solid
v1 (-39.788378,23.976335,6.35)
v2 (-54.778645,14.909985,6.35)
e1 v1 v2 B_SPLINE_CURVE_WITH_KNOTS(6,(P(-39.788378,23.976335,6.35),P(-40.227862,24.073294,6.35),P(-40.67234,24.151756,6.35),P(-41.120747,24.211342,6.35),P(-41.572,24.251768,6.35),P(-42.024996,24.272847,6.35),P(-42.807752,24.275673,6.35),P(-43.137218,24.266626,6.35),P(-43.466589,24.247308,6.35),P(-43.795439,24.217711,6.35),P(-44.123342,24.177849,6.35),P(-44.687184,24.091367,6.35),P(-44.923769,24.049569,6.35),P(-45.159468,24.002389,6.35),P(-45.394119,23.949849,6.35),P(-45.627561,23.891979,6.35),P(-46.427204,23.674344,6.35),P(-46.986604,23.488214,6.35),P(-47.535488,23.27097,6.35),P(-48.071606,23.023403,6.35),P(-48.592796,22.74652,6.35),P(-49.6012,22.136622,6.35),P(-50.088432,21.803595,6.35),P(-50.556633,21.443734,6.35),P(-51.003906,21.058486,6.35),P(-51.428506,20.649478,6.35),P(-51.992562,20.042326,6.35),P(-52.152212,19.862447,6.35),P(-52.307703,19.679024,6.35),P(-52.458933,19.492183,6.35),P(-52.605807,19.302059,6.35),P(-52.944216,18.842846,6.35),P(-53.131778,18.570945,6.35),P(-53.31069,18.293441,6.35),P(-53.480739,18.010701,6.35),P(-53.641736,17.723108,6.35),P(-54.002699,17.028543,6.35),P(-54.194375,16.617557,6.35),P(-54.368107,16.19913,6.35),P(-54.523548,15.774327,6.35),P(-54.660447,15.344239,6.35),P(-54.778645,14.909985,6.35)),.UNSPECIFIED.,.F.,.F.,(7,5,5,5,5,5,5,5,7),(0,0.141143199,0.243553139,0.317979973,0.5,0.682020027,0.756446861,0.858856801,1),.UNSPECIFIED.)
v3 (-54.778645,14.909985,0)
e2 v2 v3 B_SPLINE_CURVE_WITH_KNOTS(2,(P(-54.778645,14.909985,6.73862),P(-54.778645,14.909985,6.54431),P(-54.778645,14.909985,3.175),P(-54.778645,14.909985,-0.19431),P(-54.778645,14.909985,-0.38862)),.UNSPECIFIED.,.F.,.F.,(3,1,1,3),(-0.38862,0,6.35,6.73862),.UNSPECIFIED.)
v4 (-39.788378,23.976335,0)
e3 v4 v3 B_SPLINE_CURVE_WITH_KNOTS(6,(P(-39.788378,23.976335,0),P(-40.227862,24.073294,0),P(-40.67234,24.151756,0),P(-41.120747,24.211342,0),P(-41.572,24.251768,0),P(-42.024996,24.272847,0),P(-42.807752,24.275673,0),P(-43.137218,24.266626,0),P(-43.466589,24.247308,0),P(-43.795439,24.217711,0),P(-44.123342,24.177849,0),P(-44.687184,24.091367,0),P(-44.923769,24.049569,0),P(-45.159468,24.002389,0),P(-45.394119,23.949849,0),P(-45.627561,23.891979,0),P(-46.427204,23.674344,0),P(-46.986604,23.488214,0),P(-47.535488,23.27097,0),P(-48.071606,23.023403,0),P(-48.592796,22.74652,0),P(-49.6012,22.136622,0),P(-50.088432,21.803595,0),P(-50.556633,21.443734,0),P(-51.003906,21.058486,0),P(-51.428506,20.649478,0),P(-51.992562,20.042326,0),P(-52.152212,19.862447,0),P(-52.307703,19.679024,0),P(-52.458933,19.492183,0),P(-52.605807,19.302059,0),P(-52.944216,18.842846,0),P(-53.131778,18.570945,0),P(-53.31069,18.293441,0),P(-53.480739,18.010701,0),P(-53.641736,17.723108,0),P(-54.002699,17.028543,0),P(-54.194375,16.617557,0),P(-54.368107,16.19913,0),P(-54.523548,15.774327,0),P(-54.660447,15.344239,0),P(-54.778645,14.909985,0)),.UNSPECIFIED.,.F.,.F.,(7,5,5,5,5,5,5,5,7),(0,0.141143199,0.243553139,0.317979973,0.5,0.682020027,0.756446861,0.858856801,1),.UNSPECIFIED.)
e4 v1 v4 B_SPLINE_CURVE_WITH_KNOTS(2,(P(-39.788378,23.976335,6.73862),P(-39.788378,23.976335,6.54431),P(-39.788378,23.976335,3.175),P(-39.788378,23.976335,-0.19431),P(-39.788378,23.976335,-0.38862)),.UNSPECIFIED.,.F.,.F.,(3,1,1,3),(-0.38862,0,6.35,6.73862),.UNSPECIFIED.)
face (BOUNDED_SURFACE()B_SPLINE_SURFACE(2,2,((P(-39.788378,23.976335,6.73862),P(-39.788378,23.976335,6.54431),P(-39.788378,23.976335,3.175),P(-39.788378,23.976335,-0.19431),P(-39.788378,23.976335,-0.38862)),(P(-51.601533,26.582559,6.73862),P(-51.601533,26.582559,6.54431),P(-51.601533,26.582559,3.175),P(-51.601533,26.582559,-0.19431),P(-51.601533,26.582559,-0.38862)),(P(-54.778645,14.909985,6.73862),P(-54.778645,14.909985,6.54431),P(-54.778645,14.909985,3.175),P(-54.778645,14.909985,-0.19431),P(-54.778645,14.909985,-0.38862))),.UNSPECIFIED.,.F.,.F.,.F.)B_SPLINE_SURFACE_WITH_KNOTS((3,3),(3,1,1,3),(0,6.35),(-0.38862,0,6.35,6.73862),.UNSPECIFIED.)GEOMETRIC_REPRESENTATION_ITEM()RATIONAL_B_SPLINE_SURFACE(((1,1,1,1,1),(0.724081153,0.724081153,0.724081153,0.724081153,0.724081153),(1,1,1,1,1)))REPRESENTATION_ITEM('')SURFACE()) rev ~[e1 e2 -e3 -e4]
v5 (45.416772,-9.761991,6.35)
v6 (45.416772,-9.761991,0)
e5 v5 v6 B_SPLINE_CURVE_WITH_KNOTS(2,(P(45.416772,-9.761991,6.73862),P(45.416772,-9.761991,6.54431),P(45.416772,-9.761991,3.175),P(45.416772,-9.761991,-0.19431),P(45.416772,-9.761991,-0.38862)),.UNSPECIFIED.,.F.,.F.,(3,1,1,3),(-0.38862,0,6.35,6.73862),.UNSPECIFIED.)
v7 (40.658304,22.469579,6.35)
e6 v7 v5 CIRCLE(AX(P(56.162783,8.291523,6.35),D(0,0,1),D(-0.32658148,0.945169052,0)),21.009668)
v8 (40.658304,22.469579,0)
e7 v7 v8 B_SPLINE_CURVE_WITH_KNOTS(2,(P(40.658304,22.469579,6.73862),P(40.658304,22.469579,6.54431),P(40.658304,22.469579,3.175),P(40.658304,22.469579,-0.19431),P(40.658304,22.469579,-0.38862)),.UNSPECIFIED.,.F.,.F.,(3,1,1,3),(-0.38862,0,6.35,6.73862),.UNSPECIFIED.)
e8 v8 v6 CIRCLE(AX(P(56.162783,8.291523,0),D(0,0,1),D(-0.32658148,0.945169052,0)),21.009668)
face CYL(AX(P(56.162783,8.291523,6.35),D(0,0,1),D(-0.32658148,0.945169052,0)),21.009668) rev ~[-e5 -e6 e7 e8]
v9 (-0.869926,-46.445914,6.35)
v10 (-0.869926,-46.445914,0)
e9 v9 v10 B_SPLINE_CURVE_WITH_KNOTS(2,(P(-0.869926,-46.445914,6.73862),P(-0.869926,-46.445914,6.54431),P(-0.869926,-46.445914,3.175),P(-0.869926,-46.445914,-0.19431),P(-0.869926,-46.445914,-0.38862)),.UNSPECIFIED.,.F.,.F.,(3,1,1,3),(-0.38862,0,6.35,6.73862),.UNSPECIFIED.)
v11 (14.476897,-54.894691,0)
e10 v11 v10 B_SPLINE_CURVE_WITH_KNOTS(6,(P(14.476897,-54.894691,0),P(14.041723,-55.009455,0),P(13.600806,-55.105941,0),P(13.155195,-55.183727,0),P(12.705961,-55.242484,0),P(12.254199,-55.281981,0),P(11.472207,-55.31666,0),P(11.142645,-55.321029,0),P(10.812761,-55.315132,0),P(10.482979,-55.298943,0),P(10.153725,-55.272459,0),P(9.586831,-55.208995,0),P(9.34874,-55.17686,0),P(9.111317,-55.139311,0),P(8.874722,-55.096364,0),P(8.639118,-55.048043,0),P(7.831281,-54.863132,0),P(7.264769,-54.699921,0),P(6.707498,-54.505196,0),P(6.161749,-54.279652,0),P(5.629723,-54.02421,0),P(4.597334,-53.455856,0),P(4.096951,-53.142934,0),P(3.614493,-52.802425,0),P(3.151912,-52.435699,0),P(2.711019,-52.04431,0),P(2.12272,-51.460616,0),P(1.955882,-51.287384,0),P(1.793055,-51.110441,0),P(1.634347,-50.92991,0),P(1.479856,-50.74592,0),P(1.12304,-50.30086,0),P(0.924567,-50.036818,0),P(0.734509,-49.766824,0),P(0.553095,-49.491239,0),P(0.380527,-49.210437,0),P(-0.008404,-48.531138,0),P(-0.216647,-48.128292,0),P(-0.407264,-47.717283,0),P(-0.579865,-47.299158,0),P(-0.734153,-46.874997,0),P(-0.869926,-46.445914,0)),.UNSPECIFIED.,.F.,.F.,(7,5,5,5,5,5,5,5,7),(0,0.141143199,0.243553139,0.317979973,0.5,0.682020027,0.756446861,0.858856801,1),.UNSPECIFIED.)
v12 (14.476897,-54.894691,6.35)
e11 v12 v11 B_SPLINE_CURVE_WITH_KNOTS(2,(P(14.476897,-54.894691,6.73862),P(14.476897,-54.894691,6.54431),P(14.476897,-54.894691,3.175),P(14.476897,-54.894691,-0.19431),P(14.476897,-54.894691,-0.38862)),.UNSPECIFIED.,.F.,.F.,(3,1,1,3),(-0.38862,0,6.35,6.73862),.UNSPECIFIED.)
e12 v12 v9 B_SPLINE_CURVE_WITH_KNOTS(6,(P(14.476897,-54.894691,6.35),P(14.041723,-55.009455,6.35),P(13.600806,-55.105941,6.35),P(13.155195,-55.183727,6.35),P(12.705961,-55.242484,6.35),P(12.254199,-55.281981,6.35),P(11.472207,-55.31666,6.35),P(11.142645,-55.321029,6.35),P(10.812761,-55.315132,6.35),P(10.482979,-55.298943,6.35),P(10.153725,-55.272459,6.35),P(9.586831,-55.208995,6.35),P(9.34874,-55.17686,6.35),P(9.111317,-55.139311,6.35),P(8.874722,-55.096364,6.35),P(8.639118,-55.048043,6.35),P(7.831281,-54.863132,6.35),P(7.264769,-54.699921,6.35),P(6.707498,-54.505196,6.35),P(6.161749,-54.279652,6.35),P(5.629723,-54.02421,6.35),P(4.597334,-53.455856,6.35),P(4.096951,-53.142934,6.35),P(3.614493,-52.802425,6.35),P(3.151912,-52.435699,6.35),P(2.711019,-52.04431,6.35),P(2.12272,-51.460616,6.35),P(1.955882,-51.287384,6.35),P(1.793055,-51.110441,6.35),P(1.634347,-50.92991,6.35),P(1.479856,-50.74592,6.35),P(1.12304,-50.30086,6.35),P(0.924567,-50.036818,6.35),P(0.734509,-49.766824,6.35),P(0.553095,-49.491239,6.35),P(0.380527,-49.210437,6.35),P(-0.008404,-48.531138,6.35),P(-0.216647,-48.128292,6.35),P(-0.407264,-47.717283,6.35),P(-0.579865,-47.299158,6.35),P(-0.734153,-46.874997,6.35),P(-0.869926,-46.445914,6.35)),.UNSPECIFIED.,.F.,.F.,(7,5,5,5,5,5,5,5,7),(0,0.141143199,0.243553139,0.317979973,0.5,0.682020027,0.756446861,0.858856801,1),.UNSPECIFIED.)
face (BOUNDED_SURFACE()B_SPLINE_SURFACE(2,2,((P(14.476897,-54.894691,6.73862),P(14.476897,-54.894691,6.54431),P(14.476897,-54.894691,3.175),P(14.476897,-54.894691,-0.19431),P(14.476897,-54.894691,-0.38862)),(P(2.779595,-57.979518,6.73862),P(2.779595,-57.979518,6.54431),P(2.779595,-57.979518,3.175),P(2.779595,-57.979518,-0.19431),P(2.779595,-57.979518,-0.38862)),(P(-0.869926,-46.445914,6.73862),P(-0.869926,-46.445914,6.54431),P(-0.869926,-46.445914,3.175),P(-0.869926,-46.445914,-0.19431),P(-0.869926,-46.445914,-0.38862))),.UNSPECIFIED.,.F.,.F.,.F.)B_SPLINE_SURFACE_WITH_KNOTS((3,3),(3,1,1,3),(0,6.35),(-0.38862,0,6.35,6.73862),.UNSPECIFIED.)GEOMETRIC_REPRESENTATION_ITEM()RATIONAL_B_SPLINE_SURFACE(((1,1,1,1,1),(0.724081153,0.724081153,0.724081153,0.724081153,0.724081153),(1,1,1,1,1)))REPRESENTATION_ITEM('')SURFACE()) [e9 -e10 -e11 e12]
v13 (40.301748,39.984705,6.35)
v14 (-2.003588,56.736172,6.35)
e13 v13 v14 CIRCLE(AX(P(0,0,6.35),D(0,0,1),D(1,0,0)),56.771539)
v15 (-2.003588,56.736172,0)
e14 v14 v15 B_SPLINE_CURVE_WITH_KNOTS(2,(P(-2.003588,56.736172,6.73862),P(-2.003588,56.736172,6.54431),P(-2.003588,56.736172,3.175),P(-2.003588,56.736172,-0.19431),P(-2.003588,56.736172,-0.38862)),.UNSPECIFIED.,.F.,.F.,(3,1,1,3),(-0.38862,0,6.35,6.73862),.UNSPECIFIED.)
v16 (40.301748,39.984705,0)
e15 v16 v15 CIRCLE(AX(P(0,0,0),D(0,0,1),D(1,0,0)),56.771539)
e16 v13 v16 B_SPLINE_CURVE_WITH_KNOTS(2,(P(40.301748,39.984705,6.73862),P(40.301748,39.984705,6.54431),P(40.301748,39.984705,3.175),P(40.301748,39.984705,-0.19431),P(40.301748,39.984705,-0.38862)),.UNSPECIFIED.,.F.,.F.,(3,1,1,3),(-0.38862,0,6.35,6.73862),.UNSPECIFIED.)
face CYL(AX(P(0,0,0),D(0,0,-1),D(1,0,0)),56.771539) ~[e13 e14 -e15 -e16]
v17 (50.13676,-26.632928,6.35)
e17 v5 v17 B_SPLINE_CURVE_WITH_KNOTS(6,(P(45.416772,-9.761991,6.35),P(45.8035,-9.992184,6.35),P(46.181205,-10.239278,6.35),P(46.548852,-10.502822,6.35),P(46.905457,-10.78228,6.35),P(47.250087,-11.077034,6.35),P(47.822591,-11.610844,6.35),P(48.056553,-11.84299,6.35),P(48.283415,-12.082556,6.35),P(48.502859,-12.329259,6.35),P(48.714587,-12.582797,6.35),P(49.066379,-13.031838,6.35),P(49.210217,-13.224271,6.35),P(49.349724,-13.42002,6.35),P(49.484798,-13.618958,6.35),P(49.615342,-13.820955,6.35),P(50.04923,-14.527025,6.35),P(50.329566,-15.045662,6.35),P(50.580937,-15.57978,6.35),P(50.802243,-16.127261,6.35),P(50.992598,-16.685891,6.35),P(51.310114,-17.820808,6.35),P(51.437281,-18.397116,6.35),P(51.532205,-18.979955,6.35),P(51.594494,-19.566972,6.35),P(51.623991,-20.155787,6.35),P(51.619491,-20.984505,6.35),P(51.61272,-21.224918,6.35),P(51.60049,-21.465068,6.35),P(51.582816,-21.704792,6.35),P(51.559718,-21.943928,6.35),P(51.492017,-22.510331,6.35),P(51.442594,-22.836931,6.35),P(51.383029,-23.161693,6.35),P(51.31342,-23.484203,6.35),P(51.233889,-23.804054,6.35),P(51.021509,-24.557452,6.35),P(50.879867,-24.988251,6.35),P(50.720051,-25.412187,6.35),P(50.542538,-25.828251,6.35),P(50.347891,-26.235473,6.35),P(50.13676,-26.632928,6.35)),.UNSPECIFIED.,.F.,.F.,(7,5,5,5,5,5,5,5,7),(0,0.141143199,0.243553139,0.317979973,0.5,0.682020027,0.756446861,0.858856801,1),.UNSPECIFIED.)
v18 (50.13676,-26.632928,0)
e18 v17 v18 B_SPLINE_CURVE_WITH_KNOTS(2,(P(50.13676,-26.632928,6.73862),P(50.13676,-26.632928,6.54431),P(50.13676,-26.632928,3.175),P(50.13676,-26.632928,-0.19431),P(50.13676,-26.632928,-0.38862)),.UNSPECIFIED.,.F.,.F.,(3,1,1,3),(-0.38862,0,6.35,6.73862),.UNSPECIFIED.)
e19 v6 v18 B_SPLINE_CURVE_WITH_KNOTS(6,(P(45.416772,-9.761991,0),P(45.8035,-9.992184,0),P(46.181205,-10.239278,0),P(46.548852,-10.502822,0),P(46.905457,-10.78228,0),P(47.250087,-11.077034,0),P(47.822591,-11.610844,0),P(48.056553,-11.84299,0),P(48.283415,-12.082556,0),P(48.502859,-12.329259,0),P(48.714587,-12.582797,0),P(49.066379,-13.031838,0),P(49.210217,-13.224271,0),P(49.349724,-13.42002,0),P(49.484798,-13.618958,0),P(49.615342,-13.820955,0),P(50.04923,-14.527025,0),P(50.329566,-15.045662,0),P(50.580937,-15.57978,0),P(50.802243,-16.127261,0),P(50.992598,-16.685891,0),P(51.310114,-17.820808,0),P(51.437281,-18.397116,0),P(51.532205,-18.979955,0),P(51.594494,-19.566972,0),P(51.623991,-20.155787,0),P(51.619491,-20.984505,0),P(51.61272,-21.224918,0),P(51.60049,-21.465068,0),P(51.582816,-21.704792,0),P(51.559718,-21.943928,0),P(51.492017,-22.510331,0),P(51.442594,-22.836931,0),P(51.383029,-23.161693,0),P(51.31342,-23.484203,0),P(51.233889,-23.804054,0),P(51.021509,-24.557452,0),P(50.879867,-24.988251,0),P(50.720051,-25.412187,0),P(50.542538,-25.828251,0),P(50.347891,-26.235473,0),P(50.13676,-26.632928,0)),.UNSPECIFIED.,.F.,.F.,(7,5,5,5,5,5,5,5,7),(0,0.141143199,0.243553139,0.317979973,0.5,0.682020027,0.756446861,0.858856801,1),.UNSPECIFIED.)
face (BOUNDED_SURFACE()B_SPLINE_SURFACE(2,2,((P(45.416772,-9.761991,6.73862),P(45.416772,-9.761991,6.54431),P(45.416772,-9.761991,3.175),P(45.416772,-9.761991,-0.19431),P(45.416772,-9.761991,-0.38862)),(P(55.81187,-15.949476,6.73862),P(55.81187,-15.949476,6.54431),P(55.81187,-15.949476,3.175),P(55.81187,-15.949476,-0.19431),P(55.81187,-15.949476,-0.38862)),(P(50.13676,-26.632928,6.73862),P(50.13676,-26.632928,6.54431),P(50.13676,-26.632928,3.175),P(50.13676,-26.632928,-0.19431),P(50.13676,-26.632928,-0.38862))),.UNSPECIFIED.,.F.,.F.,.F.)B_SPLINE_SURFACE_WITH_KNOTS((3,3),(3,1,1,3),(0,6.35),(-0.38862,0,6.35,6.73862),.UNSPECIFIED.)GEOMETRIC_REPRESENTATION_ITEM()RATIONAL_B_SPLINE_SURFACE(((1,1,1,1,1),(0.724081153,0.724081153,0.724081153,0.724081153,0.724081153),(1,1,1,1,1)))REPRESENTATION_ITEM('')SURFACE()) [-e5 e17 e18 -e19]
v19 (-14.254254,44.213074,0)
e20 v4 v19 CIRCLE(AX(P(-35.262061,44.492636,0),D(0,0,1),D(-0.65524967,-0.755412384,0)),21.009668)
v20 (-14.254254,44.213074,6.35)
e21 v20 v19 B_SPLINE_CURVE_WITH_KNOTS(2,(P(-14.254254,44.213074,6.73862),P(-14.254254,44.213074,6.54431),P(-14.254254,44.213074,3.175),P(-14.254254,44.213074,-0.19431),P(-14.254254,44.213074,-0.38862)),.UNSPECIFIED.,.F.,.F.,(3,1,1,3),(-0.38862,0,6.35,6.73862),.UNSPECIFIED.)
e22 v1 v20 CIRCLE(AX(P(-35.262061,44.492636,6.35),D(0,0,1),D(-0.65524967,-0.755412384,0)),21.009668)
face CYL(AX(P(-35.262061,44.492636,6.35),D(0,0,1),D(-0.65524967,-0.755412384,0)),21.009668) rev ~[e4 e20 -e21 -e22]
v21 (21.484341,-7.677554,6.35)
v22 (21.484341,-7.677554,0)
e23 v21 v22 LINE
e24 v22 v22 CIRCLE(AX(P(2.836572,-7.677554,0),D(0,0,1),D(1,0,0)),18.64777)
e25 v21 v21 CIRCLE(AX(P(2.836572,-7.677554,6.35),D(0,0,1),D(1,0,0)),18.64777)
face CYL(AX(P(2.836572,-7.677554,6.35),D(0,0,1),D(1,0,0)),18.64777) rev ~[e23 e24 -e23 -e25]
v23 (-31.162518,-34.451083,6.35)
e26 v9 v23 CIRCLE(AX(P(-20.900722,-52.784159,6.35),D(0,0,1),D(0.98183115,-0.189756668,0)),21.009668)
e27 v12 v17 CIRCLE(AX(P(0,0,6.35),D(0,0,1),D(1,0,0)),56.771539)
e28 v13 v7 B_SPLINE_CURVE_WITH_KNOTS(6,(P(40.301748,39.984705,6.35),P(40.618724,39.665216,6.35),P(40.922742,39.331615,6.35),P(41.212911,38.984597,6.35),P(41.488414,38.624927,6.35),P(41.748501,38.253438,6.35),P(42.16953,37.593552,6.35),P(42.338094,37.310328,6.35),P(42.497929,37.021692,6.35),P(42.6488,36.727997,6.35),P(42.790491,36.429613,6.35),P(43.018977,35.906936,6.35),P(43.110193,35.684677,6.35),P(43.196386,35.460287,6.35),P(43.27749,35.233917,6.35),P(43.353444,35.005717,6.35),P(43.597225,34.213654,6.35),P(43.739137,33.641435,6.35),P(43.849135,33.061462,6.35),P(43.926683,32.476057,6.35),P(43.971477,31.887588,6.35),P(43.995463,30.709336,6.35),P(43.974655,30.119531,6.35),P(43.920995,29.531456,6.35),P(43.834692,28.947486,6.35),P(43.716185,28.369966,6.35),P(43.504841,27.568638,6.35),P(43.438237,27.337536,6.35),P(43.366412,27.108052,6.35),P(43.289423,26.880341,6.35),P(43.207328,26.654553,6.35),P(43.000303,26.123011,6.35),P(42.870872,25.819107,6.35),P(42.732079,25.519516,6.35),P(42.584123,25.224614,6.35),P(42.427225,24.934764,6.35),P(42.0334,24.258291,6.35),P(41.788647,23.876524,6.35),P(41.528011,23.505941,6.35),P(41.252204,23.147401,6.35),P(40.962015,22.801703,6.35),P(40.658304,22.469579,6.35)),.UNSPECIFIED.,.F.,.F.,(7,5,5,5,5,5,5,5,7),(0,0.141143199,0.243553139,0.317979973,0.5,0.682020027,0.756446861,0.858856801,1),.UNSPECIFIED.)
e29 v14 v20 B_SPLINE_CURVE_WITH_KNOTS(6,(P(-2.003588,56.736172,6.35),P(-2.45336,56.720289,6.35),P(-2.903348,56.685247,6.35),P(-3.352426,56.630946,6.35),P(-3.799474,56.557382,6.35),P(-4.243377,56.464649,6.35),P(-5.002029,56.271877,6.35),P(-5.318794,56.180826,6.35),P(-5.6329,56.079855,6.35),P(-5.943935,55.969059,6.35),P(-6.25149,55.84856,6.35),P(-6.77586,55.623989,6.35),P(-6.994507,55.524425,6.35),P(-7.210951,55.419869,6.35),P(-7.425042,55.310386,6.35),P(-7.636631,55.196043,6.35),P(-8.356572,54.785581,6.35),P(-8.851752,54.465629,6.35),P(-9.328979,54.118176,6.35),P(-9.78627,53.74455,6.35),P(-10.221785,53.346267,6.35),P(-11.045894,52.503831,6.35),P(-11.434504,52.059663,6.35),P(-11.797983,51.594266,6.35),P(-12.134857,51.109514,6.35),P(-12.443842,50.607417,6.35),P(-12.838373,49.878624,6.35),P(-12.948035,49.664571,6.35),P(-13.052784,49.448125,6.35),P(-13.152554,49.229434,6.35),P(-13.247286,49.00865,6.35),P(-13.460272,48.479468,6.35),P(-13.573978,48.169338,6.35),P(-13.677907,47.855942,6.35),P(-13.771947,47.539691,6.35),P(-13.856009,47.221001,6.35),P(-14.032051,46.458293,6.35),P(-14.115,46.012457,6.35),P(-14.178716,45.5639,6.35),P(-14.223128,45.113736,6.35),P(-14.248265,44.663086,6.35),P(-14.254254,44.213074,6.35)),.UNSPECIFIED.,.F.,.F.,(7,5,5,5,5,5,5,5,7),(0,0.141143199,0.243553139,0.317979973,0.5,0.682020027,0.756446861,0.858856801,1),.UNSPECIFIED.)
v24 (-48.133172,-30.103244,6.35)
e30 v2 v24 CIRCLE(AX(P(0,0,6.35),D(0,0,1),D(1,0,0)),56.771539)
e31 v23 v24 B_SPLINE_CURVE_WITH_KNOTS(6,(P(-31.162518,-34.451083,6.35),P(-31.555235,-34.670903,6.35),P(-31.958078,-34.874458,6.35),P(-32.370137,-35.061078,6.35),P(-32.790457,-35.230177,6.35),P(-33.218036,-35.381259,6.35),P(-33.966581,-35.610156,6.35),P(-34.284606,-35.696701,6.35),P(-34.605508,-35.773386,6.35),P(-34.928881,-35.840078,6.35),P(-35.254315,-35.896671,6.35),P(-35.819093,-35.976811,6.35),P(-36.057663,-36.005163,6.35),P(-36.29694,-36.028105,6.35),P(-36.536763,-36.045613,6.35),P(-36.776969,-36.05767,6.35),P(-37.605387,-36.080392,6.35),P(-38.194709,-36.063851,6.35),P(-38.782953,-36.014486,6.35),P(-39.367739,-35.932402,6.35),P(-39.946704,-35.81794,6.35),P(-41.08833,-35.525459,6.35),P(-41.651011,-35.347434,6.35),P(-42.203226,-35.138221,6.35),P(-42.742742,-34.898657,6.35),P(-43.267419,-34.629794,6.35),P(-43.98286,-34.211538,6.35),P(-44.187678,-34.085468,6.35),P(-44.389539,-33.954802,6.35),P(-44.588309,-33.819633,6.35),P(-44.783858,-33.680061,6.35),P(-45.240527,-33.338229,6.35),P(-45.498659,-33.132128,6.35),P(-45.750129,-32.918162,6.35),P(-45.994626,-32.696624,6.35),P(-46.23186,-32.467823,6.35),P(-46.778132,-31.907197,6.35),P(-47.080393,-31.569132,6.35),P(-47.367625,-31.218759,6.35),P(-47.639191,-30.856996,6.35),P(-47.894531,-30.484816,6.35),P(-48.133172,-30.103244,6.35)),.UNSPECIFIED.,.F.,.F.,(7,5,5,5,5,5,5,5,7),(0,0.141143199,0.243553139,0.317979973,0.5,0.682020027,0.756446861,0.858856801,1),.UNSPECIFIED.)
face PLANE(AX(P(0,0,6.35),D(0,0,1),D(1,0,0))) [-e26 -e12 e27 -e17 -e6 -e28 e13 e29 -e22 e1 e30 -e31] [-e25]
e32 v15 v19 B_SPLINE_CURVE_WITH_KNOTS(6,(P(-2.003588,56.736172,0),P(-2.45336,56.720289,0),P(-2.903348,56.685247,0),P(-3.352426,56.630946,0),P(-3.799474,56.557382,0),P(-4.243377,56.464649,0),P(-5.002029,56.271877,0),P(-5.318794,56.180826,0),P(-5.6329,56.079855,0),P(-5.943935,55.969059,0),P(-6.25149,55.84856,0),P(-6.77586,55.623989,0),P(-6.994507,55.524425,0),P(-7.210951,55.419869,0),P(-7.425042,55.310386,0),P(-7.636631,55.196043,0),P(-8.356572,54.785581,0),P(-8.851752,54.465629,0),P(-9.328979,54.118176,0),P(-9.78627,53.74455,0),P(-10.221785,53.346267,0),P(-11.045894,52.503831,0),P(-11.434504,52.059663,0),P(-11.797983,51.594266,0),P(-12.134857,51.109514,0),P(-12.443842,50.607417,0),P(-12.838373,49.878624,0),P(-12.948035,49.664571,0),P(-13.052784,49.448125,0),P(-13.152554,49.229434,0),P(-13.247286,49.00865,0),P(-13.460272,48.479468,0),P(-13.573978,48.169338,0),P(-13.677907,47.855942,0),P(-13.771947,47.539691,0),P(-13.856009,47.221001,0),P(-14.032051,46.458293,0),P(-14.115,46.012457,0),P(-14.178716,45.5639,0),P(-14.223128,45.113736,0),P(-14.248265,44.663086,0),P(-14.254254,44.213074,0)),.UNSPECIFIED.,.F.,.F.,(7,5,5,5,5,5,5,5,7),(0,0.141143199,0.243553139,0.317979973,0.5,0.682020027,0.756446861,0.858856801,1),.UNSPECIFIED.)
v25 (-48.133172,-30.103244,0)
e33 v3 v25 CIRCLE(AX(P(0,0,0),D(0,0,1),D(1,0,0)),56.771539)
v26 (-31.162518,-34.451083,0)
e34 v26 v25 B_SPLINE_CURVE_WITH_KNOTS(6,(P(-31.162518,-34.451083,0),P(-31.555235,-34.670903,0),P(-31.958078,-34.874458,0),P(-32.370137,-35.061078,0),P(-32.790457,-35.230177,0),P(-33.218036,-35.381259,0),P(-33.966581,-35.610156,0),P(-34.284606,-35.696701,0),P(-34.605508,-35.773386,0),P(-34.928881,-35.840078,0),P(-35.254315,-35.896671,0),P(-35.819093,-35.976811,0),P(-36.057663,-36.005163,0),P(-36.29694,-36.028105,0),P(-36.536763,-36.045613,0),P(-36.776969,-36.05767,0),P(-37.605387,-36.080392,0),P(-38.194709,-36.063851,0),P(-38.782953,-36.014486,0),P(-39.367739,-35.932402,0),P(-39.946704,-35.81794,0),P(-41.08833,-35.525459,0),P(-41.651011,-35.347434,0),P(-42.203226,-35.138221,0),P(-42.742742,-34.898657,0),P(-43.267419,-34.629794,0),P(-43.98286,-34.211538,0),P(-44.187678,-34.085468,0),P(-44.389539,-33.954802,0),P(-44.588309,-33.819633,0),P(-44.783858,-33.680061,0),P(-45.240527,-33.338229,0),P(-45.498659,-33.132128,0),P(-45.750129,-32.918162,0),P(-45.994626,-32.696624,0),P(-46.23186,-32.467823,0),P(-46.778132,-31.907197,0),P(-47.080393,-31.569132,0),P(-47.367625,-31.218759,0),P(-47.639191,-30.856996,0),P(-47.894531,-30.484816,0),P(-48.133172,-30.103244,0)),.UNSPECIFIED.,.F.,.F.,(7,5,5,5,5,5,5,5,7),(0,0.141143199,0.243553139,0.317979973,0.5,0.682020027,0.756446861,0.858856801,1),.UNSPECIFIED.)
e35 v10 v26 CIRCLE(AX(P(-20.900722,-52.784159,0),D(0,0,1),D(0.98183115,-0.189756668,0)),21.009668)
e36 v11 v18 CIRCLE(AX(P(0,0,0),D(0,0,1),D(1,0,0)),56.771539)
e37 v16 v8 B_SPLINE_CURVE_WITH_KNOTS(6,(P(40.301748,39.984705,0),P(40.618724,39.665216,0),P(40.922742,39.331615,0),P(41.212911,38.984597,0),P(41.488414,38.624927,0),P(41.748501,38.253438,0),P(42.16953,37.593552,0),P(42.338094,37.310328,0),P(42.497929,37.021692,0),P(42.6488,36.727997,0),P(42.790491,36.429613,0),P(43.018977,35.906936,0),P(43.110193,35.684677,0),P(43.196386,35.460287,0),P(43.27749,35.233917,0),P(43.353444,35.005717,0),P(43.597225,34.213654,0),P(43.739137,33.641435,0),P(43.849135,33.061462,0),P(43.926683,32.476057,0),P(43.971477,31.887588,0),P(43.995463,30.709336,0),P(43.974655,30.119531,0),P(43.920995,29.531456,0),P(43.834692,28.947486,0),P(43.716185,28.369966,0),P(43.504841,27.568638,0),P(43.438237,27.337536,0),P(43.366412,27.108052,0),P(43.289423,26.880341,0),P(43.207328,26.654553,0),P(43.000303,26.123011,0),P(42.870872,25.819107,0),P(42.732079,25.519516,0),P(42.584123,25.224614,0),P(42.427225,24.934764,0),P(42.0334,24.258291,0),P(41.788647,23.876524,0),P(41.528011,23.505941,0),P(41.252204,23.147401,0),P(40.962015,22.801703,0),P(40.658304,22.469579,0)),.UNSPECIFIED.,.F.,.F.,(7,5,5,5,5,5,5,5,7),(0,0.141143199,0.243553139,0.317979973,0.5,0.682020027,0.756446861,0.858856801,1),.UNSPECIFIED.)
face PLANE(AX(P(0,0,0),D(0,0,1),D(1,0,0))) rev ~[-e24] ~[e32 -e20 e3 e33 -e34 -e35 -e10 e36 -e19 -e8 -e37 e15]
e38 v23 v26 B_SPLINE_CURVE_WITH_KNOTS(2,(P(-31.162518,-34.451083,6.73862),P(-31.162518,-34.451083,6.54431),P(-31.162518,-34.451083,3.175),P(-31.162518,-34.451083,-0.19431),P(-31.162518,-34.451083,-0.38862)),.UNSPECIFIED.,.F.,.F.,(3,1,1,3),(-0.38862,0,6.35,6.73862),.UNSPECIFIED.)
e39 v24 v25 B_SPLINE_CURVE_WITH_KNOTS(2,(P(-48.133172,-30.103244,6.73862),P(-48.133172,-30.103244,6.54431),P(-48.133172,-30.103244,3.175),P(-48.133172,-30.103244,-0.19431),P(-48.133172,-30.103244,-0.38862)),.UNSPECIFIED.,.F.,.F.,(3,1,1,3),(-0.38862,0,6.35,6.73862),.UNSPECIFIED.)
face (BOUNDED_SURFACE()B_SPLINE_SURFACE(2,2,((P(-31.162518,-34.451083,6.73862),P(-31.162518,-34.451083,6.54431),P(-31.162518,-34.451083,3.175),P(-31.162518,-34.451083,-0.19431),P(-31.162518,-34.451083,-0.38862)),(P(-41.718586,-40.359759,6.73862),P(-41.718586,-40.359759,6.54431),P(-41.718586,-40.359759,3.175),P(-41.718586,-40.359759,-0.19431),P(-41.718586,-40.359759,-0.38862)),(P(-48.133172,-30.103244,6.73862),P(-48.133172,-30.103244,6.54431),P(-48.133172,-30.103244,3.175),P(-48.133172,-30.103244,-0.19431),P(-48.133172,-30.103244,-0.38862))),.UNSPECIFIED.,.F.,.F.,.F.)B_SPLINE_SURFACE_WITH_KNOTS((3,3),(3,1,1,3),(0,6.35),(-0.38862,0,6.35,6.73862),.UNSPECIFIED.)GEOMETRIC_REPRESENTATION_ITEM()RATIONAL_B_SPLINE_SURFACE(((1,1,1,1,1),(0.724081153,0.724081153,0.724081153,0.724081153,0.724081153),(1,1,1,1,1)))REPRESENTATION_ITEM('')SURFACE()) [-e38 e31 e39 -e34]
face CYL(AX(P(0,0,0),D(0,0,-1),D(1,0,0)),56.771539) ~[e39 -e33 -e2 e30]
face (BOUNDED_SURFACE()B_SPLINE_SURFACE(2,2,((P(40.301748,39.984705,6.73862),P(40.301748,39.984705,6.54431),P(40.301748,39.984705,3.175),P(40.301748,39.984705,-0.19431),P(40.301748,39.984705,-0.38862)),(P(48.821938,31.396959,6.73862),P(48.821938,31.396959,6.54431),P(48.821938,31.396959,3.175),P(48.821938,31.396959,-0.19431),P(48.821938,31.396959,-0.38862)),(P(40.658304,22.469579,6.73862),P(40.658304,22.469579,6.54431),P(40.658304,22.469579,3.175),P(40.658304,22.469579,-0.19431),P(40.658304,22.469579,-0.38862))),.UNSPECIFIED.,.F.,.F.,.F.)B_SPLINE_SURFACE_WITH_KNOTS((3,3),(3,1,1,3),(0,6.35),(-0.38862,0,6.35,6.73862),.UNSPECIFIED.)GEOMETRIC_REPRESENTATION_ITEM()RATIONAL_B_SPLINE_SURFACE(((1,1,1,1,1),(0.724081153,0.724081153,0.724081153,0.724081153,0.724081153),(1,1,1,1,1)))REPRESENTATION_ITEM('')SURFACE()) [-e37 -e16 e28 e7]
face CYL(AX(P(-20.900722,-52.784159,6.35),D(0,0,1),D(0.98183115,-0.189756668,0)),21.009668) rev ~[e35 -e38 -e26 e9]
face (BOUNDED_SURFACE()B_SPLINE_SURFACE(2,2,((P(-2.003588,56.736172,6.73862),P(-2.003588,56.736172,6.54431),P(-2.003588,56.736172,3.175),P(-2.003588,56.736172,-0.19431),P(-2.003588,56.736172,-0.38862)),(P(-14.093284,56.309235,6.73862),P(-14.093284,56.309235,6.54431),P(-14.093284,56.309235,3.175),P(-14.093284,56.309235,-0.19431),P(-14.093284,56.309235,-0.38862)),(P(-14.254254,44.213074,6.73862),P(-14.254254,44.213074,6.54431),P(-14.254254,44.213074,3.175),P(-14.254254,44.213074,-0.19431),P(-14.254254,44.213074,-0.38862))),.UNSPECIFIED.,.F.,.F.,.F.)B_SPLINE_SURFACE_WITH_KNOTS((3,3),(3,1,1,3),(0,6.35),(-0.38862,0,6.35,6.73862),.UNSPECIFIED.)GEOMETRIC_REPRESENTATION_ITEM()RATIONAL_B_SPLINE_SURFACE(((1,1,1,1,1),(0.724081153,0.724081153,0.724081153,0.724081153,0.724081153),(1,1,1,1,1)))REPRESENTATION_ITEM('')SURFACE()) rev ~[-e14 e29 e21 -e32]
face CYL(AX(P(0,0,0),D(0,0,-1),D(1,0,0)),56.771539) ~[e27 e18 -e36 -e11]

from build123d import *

# Parameters (mm, degrees)
F0_R     = 56.7715385185
F1_DEPTH = 6.35
F2_R     = 18.6477696788
F3_DEPTH = 25.4
F5_DEPTH = 25.4
F6_R     = 12.7


with BuildPart() as f1:
    # F0 (on Top) → F1 (new body)
    with BuildSketch(Plane.XY):
        Circle(F0_R)
    extrude(amount=F1_DEPTH)

    # F2 (on face) → F3 (cut)
    with BuildSketch(Plane.XY.offset(6.35)):
        with Locations((2.8365715407, -7.6775541529)):
            Circle(F2_R)
    extrude(amount=-F3_DEPTH, mode=Mode.SUBTRACT)

    # F4 (on face) → F5 (cut)
    with BuildSketch(Plane.XY.offset(6.35)):
        with BuildLine():
            ThreePointArc((-16.6661772977, 54.2701217987), (-35.2620612858, 44.4926355663), (-49.0286391406, 28.6216723792))
            ThreePointArc((-49.0286391406, 28.6216723792), (-22.2124908393, 28.0270699981), (-16.6661772977, 54.2701217987))
        make_face()
        with BuildLine():
            ThreePointArc((56.7715385185, 0), (54.8722368944, 14.5617720065), (49.3014149495, 28.1492108191))
            ThreePointArc((49.3014149495, 28.1492108191), (35.3784000316, 5.2230463491), (55.332392793, -12.7017279755))
            ThreePointArc((55.332392793, -12.7017279755), (56.4106047412, -6.391498924), (56.7715385185, 0))
        make_face()
        with BuildLine():
            ThreePointArc((-0.2727758089, -56.7708831983), (-13.1659091923, -33.2501163472), (-38.6662154953, -41.5683938231))
            ThreePointArc((-38.6662154953, -41.5683938231), (-20.9007220389, -52.7841586465), (-0.2727758089, -56.7708831983))
        make_face()
    extrude(amount=-F5_DEPTH, mode=Mode.SUBTRACT)

    # F6
    f6_edges = [f1.edges().sort_by_distance(p)[0] for p in [
        (-0.272776, -56.770883, 3.175),
        (-38.666215, -41.568394, 3.175),
        (49.301415, 28.149211, 3.175),
        (55.332393, -12.701728, 3.175),
        (-16.666177, 54.270122, 3.175),
        (-49.028639, 28.621672, 3.175),
    ]]
    fillet(f6_edges, radius=F6_R)


solid = f1.part
